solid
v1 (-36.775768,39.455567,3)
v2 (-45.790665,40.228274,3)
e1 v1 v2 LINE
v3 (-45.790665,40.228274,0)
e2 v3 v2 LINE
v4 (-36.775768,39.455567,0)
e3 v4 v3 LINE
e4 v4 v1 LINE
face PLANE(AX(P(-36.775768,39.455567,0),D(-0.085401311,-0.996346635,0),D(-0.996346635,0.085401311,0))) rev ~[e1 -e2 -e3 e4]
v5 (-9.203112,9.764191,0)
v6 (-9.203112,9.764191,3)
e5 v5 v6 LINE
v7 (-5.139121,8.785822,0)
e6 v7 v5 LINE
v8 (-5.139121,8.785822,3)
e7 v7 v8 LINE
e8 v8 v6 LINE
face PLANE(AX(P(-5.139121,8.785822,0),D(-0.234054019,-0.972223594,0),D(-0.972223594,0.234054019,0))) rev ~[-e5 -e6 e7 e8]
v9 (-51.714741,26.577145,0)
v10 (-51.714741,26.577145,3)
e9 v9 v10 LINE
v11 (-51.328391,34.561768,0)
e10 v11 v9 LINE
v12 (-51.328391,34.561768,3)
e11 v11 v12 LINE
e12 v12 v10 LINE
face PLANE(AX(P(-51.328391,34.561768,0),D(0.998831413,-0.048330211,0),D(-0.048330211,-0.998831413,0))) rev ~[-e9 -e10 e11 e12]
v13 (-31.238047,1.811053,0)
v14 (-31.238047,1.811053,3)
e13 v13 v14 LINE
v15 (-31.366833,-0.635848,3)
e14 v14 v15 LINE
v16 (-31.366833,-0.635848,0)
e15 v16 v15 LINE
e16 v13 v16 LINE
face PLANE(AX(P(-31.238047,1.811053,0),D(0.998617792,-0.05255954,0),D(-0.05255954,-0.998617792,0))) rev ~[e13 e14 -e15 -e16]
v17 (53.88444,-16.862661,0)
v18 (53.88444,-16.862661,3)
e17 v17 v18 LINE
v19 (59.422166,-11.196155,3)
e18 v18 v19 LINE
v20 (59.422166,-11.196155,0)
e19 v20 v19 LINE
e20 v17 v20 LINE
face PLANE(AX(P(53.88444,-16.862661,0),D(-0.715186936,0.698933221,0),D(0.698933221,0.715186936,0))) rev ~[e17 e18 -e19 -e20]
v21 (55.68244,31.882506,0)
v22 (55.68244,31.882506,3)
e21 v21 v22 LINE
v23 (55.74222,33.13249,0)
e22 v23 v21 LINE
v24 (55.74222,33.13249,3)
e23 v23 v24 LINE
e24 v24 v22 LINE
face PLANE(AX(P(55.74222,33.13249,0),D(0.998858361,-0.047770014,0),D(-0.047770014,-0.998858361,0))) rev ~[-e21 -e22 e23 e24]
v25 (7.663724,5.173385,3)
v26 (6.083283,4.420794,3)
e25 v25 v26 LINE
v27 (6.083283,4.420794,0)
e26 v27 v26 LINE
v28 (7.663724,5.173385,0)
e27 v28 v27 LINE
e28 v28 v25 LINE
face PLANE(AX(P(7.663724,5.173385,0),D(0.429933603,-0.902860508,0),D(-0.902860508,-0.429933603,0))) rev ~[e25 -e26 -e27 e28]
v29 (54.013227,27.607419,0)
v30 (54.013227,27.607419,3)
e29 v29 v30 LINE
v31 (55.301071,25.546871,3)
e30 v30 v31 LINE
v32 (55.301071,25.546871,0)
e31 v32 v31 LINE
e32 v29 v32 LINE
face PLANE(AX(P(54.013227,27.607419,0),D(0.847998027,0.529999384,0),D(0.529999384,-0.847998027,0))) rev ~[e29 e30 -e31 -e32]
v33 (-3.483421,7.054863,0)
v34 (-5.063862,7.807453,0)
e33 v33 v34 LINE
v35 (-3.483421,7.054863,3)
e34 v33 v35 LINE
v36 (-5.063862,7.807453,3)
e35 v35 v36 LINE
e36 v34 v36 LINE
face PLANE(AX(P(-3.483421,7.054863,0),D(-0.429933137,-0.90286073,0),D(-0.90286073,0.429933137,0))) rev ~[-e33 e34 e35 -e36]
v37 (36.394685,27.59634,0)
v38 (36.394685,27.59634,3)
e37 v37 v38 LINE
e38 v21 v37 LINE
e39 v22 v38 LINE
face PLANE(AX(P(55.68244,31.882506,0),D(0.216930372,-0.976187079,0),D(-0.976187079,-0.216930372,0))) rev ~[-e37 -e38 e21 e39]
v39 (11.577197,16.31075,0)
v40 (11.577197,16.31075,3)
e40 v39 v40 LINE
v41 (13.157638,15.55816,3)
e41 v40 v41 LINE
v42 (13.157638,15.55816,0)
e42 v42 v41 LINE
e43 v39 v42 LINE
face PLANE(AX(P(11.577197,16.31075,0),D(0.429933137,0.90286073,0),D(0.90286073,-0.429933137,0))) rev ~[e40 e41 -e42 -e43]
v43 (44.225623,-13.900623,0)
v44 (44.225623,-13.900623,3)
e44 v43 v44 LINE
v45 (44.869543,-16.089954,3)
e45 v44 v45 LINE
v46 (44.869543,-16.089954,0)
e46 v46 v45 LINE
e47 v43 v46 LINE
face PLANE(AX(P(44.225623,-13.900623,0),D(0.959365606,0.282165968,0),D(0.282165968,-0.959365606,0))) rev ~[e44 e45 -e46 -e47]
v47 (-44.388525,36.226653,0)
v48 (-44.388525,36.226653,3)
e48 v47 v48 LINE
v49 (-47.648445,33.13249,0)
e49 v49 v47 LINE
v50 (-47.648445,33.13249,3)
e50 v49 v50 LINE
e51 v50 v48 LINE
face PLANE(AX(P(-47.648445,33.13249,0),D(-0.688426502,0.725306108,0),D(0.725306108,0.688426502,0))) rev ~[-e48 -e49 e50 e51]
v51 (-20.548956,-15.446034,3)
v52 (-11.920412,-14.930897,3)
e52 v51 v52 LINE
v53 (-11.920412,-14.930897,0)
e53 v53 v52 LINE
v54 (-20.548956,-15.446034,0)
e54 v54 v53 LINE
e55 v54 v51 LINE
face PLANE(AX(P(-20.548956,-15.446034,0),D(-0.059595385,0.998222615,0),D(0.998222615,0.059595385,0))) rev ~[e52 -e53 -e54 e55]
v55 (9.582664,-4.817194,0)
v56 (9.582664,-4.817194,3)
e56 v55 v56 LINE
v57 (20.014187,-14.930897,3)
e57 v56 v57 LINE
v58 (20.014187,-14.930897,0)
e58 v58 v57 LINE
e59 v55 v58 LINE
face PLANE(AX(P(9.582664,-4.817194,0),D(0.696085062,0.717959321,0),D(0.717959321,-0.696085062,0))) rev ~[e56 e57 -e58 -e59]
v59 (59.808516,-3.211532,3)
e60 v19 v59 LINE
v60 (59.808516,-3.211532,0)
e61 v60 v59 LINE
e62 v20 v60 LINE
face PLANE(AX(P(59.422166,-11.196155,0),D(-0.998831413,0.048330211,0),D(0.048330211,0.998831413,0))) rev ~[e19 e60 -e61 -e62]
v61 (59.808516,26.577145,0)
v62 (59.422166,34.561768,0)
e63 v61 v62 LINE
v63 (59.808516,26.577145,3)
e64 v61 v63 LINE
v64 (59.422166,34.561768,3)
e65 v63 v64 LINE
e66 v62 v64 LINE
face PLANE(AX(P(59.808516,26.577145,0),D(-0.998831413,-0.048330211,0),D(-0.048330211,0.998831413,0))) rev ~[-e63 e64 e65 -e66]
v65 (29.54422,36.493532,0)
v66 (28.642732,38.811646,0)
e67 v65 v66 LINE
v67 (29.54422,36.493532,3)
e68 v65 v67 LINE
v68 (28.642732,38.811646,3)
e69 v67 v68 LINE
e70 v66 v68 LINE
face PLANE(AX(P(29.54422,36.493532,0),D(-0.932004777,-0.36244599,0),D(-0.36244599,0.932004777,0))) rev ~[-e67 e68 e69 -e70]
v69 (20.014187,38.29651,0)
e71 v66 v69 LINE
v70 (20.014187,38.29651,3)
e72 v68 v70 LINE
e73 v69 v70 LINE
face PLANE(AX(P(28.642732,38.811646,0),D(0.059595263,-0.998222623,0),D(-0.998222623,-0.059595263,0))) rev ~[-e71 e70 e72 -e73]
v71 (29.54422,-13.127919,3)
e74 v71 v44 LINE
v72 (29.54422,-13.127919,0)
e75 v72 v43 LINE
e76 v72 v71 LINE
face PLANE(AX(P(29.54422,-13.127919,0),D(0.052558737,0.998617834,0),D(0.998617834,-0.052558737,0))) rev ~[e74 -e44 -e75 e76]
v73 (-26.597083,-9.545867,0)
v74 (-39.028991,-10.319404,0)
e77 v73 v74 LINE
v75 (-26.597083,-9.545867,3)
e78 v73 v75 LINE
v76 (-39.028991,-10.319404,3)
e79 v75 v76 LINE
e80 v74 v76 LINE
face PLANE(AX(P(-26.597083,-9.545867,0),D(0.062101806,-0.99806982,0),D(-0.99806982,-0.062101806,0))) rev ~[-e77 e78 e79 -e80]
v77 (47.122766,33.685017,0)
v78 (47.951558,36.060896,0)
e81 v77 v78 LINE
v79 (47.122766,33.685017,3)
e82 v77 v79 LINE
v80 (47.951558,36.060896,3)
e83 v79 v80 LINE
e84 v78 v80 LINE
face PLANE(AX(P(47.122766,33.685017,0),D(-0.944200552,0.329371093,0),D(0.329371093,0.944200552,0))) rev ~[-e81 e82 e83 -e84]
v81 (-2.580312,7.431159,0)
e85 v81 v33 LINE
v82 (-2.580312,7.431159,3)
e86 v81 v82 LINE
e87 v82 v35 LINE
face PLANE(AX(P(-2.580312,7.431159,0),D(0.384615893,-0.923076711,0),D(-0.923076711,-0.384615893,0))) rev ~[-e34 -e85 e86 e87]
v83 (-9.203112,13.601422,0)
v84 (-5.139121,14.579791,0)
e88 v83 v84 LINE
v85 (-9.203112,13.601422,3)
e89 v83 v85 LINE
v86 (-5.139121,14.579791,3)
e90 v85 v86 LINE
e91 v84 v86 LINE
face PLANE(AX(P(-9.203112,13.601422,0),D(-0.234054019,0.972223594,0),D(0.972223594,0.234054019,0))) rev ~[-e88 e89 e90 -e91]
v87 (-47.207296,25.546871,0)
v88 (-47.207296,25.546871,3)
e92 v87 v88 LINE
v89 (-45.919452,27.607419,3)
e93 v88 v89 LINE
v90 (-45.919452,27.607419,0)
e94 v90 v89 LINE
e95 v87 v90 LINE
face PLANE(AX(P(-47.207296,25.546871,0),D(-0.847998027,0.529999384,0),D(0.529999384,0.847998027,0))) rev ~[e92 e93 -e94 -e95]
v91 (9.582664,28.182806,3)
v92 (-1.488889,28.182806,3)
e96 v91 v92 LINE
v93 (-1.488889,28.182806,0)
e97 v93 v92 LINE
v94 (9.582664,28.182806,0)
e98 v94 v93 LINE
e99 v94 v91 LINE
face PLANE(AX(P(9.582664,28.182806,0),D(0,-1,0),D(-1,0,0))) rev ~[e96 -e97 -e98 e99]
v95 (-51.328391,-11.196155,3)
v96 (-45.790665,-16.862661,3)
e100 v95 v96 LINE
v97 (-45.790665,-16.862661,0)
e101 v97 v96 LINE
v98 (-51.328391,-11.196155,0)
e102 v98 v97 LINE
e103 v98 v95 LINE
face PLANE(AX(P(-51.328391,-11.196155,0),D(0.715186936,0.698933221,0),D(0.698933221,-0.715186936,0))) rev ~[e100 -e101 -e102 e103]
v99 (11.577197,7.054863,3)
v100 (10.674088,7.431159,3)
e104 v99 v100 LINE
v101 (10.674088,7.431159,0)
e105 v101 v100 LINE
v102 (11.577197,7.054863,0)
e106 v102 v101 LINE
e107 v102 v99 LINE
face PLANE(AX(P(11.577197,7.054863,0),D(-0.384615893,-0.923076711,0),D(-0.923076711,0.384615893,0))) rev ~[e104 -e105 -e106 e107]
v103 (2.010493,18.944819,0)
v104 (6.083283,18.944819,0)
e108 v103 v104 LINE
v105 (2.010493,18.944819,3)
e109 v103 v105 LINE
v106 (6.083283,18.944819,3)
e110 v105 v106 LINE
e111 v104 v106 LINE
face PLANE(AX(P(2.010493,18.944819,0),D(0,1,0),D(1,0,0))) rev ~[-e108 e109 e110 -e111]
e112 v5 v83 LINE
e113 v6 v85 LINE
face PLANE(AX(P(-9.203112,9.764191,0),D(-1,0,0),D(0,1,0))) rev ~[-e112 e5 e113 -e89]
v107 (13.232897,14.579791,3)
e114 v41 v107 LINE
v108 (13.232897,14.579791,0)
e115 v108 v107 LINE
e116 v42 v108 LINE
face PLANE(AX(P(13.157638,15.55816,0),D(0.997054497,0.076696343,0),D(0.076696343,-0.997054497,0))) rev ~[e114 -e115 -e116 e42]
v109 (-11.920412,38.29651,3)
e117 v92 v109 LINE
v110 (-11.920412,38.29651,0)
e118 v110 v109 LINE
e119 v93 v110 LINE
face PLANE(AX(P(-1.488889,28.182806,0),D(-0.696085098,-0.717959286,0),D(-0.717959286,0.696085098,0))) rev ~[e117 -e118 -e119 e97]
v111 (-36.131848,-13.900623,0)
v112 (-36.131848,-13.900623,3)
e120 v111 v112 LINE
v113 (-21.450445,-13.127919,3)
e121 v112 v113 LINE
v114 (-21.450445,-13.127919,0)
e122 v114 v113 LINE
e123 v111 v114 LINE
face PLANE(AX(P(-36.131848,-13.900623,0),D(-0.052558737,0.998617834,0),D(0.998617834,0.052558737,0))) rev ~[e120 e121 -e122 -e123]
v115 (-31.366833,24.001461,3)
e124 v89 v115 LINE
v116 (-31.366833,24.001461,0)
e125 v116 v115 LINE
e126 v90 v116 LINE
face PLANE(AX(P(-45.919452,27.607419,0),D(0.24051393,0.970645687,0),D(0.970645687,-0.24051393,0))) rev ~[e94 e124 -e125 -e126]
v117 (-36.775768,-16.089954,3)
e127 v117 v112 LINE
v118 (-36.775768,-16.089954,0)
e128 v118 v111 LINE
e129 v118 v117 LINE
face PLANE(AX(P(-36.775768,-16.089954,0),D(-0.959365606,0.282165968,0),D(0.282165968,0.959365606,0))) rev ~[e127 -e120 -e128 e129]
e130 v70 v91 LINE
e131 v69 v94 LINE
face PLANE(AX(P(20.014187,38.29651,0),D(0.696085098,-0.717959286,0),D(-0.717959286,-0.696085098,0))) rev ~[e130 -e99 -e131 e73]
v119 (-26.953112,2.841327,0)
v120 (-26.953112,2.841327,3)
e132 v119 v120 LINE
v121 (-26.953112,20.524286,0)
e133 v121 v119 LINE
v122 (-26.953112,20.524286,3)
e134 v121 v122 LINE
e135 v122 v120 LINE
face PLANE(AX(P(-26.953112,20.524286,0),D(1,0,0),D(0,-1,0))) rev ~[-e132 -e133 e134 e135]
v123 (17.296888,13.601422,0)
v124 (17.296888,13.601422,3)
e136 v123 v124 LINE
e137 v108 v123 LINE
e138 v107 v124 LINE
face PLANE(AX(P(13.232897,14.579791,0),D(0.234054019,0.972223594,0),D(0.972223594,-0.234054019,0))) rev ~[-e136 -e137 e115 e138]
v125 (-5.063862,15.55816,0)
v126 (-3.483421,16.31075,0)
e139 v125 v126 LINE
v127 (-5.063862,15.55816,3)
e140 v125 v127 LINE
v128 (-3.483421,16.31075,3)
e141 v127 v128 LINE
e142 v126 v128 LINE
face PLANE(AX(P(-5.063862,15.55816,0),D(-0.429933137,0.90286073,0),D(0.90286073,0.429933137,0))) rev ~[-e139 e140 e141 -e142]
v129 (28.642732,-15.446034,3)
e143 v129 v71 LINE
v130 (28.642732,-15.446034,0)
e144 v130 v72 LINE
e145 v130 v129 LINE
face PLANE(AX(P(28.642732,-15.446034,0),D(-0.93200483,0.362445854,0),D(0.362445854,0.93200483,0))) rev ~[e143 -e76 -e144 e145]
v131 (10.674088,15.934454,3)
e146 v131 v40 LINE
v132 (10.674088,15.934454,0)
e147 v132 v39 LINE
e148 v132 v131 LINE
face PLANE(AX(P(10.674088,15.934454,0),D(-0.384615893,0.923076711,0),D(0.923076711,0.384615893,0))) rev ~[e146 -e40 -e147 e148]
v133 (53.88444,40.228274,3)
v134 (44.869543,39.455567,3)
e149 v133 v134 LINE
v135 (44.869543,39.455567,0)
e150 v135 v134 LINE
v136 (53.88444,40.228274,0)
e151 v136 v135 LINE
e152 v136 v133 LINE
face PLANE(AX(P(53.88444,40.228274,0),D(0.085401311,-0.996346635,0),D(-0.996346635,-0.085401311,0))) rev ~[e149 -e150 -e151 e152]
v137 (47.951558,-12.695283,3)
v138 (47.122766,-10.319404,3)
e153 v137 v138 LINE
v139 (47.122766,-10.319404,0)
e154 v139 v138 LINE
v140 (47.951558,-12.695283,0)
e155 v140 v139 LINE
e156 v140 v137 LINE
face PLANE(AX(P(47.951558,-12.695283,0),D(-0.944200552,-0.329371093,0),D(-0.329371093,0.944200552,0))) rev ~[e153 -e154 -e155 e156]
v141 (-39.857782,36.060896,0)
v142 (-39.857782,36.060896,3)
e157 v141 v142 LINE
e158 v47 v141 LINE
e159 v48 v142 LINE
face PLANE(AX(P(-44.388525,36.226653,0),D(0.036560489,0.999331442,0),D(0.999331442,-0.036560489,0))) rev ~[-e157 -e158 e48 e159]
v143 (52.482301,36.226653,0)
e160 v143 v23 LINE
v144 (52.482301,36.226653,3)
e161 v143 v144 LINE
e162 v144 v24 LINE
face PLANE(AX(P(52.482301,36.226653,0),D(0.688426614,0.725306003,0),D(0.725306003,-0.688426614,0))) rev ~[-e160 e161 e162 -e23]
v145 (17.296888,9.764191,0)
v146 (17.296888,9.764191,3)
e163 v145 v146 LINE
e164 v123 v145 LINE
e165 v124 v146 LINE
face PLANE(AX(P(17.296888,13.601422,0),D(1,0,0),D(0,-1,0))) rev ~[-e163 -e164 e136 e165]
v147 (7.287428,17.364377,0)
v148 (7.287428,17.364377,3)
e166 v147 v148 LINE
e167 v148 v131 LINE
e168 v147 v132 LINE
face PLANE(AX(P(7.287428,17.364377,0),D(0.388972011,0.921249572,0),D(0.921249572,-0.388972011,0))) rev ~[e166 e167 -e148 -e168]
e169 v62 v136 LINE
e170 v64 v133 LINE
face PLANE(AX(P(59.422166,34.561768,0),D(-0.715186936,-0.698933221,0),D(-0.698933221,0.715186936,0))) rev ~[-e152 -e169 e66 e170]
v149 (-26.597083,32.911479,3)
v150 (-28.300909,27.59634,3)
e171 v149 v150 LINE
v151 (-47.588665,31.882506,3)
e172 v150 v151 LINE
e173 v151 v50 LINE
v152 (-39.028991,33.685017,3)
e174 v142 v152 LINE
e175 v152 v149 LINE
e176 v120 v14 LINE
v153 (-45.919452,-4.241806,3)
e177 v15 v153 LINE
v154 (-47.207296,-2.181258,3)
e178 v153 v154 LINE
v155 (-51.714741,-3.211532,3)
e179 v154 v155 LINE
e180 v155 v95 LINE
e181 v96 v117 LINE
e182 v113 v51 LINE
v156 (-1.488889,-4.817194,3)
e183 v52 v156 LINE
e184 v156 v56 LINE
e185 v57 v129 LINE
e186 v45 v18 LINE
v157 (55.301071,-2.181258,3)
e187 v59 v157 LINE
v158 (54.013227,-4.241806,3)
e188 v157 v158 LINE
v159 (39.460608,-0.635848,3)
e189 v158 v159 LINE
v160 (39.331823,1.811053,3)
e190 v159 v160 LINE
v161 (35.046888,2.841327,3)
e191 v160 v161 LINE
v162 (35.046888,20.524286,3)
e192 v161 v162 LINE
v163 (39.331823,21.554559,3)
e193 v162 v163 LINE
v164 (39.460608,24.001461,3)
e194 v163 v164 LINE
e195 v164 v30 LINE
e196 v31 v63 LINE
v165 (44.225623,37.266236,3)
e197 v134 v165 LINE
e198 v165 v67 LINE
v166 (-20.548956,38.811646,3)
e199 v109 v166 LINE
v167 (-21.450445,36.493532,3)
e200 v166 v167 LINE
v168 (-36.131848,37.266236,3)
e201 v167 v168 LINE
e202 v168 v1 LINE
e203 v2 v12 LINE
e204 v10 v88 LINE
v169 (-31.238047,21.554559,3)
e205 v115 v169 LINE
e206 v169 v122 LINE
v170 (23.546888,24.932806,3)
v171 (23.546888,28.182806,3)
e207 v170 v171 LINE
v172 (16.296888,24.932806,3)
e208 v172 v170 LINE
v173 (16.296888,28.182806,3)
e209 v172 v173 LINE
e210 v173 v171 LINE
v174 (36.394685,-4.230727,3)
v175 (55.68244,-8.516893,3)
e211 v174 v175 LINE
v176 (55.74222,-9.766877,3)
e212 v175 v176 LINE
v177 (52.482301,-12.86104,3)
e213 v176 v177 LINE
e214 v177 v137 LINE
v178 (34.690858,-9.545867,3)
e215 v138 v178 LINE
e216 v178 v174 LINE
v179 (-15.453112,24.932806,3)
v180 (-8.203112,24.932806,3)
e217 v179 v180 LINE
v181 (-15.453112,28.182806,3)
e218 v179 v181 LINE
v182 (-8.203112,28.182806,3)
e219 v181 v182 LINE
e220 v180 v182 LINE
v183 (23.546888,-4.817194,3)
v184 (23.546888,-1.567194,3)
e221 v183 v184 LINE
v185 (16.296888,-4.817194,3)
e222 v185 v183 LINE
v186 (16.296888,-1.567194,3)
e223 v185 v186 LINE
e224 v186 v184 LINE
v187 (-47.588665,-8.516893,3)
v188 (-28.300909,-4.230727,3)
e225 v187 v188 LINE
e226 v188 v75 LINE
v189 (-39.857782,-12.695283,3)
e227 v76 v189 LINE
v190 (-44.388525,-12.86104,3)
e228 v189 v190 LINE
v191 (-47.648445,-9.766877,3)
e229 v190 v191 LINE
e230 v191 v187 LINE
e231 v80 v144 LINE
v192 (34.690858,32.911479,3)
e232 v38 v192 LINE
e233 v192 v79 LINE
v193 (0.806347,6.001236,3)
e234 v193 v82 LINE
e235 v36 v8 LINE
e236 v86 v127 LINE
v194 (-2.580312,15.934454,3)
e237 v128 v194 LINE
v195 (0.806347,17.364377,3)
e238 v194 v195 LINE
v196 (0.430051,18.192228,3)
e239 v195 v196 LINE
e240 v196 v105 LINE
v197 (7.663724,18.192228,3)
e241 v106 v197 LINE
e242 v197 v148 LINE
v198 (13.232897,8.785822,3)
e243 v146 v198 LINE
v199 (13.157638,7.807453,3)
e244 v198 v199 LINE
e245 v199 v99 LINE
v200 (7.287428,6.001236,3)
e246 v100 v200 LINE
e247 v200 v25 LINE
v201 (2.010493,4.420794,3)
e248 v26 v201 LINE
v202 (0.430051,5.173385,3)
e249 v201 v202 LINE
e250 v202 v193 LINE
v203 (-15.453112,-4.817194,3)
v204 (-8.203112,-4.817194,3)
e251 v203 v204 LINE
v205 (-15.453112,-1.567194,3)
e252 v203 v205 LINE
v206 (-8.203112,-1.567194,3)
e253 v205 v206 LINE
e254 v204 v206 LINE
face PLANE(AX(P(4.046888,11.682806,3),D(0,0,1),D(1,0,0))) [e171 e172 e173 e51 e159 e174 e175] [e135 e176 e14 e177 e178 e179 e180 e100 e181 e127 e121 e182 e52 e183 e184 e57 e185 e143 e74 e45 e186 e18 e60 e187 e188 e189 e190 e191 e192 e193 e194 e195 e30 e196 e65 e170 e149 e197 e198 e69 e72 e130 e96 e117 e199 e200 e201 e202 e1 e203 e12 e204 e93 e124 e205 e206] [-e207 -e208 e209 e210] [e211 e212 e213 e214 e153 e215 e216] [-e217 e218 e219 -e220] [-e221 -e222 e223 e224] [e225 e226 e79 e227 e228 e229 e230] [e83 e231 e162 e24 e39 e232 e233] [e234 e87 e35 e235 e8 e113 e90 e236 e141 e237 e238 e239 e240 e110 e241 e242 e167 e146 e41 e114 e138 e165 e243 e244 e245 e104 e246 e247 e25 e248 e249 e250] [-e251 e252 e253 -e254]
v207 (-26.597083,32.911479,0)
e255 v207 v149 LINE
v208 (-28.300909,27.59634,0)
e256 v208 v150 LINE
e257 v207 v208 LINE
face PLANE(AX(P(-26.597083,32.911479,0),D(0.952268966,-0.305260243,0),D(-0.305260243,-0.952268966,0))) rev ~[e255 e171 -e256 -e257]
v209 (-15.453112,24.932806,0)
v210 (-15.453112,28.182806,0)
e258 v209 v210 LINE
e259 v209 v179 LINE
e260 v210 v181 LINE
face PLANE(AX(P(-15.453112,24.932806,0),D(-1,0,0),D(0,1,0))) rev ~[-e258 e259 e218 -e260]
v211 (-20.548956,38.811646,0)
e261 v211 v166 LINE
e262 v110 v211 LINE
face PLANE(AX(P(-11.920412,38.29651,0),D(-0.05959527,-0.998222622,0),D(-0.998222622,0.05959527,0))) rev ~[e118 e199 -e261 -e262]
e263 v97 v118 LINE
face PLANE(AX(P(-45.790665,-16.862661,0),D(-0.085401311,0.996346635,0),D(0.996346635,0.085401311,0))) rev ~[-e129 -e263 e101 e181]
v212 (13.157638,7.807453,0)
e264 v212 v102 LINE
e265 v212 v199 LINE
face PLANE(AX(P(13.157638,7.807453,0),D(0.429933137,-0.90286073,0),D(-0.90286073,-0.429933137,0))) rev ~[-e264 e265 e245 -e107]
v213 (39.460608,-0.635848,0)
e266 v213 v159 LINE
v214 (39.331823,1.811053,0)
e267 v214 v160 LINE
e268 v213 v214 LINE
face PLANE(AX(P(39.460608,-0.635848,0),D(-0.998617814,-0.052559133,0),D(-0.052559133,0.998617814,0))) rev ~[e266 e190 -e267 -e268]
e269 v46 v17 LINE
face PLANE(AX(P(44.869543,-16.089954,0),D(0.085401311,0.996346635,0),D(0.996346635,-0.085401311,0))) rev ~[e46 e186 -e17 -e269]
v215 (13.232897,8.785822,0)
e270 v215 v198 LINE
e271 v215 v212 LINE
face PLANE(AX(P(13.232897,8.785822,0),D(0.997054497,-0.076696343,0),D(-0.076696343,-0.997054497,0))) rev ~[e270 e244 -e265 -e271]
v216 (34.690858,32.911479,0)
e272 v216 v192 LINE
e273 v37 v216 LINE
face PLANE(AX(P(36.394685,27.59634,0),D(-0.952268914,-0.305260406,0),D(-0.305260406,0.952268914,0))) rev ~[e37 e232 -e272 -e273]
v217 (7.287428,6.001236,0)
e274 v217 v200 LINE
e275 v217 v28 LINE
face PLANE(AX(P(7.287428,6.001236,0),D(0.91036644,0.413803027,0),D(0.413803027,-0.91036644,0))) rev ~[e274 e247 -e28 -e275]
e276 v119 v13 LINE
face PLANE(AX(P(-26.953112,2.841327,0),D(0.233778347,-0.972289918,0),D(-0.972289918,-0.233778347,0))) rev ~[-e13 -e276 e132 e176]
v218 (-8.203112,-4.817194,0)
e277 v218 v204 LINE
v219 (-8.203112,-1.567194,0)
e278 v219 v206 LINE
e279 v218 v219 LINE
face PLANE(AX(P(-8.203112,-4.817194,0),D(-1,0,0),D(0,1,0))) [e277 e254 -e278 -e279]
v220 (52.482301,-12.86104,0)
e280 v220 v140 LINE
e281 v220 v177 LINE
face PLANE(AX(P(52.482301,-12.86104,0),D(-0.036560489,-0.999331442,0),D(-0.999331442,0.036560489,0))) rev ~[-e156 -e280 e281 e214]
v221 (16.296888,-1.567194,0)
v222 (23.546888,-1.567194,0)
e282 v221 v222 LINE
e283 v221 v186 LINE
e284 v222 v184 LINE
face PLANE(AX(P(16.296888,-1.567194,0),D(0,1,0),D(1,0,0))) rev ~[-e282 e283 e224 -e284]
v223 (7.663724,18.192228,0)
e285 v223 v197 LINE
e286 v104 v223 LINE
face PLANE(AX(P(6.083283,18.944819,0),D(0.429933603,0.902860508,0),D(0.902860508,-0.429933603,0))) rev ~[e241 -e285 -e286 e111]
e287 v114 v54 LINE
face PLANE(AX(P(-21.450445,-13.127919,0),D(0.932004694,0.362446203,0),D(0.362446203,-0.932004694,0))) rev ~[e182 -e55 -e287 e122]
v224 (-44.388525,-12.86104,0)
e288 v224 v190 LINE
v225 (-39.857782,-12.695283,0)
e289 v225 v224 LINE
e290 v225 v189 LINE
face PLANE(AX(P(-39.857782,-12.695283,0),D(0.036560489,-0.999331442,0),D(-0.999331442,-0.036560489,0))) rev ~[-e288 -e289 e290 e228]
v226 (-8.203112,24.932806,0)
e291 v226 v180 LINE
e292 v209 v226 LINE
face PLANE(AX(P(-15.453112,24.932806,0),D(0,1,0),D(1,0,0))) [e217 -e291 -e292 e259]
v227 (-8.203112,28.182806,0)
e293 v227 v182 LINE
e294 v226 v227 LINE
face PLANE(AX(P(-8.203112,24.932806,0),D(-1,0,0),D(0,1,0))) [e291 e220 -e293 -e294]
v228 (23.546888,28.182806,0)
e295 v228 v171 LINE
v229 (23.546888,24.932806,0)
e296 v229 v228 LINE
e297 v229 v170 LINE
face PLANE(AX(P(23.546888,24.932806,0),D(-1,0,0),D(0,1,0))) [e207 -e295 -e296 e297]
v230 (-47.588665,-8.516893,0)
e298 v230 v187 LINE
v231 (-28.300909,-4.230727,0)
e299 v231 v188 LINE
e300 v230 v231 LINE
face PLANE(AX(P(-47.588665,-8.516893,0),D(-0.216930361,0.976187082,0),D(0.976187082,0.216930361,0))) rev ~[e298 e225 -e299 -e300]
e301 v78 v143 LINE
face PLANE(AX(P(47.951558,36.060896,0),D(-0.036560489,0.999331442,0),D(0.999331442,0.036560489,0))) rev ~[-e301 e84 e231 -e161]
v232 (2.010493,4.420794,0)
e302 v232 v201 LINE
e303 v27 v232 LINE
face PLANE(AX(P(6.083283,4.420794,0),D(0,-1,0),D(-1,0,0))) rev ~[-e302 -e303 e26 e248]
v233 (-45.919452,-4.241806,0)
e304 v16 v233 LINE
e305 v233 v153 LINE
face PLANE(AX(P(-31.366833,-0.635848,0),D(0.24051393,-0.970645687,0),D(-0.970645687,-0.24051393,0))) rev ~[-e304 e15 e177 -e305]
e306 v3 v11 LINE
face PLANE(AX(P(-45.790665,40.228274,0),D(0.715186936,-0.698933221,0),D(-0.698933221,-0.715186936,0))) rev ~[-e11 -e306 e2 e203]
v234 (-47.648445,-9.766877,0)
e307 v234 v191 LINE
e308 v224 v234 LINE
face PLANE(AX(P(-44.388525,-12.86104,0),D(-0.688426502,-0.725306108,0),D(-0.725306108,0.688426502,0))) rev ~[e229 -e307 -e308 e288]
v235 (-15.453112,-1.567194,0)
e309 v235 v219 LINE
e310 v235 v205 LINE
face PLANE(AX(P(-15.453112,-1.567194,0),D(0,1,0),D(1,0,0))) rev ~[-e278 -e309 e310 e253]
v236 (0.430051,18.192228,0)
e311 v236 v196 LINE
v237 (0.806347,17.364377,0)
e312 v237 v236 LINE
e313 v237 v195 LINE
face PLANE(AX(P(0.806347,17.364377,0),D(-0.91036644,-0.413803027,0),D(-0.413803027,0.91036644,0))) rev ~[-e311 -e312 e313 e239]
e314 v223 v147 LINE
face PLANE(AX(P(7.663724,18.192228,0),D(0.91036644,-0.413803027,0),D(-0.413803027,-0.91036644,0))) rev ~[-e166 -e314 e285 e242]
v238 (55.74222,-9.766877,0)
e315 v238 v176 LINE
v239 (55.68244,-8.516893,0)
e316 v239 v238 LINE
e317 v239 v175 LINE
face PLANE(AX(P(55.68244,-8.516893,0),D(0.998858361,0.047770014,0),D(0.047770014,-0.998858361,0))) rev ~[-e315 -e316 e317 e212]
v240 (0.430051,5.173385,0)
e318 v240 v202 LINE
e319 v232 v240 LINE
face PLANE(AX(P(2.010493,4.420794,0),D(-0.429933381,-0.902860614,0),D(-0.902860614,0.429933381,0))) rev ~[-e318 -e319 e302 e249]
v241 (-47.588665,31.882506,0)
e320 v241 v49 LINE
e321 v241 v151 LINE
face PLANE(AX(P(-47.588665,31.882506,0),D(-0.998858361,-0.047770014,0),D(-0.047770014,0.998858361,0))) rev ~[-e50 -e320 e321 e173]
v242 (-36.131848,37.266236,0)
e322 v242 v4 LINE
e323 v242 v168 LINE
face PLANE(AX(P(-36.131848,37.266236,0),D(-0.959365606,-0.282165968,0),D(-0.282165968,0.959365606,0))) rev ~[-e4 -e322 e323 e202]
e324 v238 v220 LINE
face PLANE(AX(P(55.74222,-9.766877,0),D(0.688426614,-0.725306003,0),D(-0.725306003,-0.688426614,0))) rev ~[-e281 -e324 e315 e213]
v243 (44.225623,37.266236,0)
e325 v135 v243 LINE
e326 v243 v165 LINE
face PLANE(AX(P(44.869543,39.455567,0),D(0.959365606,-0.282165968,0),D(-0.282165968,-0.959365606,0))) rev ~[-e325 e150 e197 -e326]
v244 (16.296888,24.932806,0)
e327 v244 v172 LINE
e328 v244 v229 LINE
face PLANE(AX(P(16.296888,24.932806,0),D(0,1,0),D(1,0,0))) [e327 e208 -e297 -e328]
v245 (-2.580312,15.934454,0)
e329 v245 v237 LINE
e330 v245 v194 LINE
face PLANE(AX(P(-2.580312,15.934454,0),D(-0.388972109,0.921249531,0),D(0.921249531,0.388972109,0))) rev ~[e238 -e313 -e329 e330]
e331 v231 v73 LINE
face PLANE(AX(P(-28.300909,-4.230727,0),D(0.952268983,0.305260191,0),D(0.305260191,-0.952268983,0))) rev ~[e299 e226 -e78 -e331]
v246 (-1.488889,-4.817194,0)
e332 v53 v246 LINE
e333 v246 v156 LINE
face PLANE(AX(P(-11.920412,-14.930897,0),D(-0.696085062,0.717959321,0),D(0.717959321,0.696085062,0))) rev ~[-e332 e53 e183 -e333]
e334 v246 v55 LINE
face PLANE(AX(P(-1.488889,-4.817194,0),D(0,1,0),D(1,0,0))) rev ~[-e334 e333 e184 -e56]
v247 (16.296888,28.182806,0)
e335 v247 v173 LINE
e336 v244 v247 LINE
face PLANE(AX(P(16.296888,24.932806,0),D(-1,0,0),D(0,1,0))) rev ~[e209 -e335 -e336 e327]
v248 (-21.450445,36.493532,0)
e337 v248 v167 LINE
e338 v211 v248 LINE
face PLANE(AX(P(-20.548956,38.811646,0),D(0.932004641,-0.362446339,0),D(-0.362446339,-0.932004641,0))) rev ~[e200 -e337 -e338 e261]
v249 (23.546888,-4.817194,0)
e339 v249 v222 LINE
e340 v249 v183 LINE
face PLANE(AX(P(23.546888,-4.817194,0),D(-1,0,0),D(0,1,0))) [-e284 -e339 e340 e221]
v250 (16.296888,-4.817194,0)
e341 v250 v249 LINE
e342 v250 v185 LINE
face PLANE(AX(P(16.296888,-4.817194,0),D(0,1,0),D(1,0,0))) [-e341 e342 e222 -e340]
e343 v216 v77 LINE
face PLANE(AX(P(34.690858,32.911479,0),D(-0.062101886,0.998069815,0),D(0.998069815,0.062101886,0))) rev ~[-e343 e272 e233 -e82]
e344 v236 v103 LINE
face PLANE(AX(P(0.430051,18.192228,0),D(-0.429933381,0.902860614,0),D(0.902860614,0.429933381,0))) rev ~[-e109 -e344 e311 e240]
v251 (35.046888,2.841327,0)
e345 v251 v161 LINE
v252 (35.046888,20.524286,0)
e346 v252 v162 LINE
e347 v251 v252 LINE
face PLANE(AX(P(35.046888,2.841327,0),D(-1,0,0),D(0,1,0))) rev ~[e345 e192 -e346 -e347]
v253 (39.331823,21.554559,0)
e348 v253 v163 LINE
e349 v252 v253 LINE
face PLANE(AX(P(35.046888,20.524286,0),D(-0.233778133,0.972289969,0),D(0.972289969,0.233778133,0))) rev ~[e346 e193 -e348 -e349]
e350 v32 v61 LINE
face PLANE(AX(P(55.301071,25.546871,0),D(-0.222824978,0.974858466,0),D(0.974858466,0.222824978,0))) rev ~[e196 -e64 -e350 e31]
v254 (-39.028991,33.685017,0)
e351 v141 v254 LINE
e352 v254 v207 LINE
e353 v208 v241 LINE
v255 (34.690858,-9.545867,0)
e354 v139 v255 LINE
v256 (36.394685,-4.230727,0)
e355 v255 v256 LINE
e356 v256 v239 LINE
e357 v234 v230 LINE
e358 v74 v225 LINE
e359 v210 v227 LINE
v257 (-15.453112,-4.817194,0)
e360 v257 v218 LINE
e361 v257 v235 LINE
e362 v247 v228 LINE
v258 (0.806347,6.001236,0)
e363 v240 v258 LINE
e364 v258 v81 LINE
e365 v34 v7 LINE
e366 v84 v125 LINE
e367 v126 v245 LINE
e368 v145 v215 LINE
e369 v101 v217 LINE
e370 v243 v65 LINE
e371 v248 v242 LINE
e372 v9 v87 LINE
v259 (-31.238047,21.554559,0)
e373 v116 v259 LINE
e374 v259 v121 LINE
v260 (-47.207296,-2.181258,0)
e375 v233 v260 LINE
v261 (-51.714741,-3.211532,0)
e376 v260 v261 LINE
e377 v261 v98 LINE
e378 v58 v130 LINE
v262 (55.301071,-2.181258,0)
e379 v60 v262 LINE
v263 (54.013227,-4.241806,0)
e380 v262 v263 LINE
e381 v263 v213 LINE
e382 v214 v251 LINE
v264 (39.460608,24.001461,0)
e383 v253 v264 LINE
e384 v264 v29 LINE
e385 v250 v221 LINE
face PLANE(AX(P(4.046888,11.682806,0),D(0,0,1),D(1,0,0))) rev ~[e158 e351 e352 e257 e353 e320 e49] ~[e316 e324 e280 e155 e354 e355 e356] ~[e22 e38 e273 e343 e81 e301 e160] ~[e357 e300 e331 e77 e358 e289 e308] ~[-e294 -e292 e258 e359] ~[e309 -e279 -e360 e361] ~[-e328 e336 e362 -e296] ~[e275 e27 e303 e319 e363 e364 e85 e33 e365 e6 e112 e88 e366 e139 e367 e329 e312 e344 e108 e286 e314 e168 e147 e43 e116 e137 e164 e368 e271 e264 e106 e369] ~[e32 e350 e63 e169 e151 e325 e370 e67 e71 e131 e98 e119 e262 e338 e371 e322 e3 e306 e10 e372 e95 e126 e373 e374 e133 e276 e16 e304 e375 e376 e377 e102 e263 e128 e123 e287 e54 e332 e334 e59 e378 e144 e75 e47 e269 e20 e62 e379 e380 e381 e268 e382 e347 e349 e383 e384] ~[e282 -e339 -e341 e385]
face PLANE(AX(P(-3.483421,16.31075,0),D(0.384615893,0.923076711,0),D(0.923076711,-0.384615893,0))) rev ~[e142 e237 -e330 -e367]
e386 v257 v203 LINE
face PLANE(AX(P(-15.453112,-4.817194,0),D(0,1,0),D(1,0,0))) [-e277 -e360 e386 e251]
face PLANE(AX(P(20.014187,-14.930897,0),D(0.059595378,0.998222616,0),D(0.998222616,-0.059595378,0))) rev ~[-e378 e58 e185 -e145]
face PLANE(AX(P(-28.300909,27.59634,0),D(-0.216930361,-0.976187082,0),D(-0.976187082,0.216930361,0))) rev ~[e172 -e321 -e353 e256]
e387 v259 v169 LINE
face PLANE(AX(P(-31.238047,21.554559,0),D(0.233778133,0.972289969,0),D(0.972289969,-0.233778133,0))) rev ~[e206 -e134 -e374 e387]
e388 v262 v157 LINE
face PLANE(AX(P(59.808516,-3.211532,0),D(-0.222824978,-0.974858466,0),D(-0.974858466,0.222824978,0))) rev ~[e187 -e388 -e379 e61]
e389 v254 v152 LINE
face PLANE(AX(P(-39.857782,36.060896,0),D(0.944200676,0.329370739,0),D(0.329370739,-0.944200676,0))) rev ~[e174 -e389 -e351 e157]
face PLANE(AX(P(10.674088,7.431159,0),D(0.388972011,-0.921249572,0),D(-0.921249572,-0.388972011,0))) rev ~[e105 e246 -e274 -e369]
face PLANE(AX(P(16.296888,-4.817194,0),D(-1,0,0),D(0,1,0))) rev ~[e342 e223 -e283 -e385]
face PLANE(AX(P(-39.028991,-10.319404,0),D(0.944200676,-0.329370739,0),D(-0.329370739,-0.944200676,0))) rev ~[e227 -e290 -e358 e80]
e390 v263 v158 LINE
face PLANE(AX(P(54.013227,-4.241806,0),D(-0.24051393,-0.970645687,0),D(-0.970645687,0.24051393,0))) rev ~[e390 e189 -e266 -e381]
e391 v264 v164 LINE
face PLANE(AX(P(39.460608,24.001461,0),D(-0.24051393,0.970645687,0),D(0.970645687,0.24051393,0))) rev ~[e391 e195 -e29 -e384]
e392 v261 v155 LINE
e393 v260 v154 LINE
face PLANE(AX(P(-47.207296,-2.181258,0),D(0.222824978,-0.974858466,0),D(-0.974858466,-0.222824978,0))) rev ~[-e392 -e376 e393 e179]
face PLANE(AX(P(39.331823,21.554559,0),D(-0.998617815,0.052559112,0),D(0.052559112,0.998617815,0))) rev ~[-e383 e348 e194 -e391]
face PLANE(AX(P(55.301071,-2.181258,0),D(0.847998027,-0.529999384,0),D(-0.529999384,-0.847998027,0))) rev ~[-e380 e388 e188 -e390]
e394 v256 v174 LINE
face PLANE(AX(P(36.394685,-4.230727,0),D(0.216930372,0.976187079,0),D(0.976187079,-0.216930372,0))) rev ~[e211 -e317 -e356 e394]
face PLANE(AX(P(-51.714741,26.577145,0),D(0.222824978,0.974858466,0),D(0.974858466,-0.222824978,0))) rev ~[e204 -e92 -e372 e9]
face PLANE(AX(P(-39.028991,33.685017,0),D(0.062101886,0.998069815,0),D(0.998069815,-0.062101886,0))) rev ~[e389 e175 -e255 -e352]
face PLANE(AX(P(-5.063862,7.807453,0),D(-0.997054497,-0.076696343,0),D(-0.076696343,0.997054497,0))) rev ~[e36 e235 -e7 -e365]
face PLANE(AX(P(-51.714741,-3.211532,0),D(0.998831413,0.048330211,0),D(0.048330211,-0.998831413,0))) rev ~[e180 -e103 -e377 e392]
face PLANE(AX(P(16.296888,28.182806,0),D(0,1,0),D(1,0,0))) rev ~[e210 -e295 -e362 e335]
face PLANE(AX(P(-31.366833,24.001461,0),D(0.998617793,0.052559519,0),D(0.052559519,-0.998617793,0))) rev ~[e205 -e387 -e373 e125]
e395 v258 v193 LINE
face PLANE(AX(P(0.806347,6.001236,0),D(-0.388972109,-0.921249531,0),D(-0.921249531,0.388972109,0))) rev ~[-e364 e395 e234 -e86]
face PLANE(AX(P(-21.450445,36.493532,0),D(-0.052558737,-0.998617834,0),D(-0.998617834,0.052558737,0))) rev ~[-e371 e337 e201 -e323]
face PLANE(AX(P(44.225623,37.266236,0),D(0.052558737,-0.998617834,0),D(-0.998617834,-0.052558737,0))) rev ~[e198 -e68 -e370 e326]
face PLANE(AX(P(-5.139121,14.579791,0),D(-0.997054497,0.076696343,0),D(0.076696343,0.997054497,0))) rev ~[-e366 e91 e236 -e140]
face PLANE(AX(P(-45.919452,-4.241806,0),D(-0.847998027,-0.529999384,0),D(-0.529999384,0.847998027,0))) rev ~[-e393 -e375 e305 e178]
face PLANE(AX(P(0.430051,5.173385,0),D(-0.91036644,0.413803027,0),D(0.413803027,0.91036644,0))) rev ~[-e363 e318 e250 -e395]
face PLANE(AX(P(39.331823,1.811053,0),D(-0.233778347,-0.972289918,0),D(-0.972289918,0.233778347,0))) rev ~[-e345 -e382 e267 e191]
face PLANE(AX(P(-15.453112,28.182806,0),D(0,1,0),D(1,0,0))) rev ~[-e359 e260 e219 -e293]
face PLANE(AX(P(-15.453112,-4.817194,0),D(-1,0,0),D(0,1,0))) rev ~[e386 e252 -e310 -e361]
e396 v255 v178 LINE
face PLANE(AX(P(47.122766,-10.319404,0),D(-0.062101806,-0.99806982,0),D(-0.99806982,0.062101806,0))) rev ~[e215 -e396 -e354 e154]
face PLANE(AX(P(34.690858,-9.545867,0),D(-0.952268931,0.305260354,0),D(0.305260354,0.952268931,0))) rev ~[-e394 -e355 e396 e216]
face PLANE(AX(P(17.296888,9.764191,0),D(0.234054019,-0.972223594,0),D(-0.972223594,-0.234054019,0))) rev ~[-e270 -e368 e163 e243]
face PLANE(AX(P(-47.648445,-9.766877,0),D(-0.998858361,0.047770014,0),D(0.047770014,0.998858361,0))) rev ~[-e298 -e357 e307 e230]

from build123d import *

# Parameters (mm, degrees)
F0_W     = 7.25
F0_H     = 3.25
F1_DEPTH = 3


with BuildPart() as f1:
    # F0 (on Top) → F1 (new body)
    with BuildSketch(Plane.XY):
        Polygon((9.582664, 28.182806), (4.046888, 28.182806), (-1.488889, 28.182806), (-11.920412, 38.29651), (-20.548956, 38.811646), (-21.450445, 36.493532), (-36.131848, 37.266236), (-36.775768, 39.455567), (-45.790665, 40.228274), (-51.328391, 34.561768), (-51.714741, 26.577145), (-47.207296, 25.546871), (-45.919452, 27.607419), (-31.366833, 24.001461), (-31.238047, 21.554559), (-26.953112, 20.524286), (-26.953112, 11.682806), (-26.953112, 2.841327), (-31.238047, 1.811053), (-31.366833, -0.635848), (-45.919452, -4.241806), (-47.207296, -2.181258), (-51.714741, -3.211532), (-51.328391, -11.196155), (-45.790665, -16.862661), (-36.775768, -16.089954), (-36.131848, -13.900623), (-21.450445, -13.127919), (-20.548956, -15.446034), (-11.920412, -14.930897), (-1.488889, -4.817194), (4.046888, -4.817194), (9.582664, -4.817194), (20.014187, -14.930897), (28.642732, -15.446034), (29.54422, -13.127919), (44.225623, -13.900623), (44.869543, -16.089954), (53.88444, -16.862661), (59.422166, -11.196155), (59.808516, -3.211532), (55.301071, -2.181258), (54.013227, -4.241806), (39.460608, -0.635848), (39.331823, 1.811053), (35.046888, 2.841327), (35.046888, 20.524286), (39.331823, 21.554559), (39.460608, 24.001461), (54.013227, 27.607419), (55.301071, 25.546871), (59.808516, 26.577145), (59.422166, 34.561768), (53.88444, 40.228274), (44.869543, 39.455567), (44.225623, 37.266236), (29.54422, 36.493532), (28.642732, 38.811646), (20.014187, 38.29651), align=None)
        Polygon((-47.588665, -8.516893), (-28.300909, -4.230727), (-26.597083, -9.545867), (-39.028991, -10.319404), (-39.857782, -12.695283), (-44.388525, -12.86104), (-47.648445, -9.766877), align=None, mode=Mode.SUBTRACT)
        with Locations((-11.828112, -3.192194)):
            Rectangle(F0_W, F0_H, mode=Mode.SUBTRACT)
        with Locations((19.921888, -3.192194)):
            Rectangle(F0_W, F0_H, mode=Mode.SUBTRACT)
        Polygon((34.690858, -9.545867), (36.394685, -4.230727), (55.68244, -8.516893), (55.74222, -9.766877), (52.482301, -12.86104), (47.951558, -12.695283), (47.122766, -10.319404), align=None, mode=Mode.SUBTRACT)
        Polygon((-9.203112, 9.764191), (-9.203112, 11.682806), (-9.203112, 13.601422), (-5.139121, 14.579791), (-5.063862, 15.55816), (-3.483421, 16.31075), (-2.580312, 15.934454), (0.806347, 17.364377), (0.430051, 18.192228), (2.010493, 18.944819), (4.046888, 18.944819), (6.083283, 18.944819), (7.663724, 18.192228), (7.287428, 17.364377), (10.674088, 15.934454), (11.577197, 16.31075), (13.157638, 15.55816), (13.232897, 14.579791), (17.296888, 13.601422), (17.296888, 11.682806), (17.296888, 9.764191), (13.232897, 8.785822), (13.157638, 7.807453), (11.577197, 7.054863), (10.674088, 7.431159), (7.287428, 6.001236), (7.663724, 5.173385), (6.083283, 4.420794), (4.046888, 4.420794), (2.010493, 4.420794), (0.430051, 5.173385), (0.806347, 6.001236), (-2.580312, 7.431159), (-3.483421, 7.054863), (-5.063862, 7.807453), (-5.139121, 8.785822), align=None, mode=Mode.SUBTRACT)
        Polygon((-26.597083, 32.911479), (-28.300909, 27.59634), (-47.588665, 31.882506), (-47.648445, 33.13249), (-44.388525, 36.226653), (-39.857782, 36.060896), (-39.028991, 33.685017), align=None, mode=Mode.SUBTRACT)
        with Locations((-11.828112, 26.557806)):
            Rectangle(F0_W, F0_H, mode=Mode.SUBTRACT)
        with Locations((19.921888, 26.557806)):
            Rectangle(F0_W, F0_H, mode=Mode.SUBTRACT)
        Polygon((36.394685, 27.59634), (34.690858, 32.911479), (47.122766, 33.685017), (47.951558, 36.060896), (52.482301, 36.226653), (55.74222, 33.13249), (55.68244, 31.882506), align=None, mode=Mode.SUBTRACT)
    extrude(amount=F1_DEPTH)


solid = f1.part
